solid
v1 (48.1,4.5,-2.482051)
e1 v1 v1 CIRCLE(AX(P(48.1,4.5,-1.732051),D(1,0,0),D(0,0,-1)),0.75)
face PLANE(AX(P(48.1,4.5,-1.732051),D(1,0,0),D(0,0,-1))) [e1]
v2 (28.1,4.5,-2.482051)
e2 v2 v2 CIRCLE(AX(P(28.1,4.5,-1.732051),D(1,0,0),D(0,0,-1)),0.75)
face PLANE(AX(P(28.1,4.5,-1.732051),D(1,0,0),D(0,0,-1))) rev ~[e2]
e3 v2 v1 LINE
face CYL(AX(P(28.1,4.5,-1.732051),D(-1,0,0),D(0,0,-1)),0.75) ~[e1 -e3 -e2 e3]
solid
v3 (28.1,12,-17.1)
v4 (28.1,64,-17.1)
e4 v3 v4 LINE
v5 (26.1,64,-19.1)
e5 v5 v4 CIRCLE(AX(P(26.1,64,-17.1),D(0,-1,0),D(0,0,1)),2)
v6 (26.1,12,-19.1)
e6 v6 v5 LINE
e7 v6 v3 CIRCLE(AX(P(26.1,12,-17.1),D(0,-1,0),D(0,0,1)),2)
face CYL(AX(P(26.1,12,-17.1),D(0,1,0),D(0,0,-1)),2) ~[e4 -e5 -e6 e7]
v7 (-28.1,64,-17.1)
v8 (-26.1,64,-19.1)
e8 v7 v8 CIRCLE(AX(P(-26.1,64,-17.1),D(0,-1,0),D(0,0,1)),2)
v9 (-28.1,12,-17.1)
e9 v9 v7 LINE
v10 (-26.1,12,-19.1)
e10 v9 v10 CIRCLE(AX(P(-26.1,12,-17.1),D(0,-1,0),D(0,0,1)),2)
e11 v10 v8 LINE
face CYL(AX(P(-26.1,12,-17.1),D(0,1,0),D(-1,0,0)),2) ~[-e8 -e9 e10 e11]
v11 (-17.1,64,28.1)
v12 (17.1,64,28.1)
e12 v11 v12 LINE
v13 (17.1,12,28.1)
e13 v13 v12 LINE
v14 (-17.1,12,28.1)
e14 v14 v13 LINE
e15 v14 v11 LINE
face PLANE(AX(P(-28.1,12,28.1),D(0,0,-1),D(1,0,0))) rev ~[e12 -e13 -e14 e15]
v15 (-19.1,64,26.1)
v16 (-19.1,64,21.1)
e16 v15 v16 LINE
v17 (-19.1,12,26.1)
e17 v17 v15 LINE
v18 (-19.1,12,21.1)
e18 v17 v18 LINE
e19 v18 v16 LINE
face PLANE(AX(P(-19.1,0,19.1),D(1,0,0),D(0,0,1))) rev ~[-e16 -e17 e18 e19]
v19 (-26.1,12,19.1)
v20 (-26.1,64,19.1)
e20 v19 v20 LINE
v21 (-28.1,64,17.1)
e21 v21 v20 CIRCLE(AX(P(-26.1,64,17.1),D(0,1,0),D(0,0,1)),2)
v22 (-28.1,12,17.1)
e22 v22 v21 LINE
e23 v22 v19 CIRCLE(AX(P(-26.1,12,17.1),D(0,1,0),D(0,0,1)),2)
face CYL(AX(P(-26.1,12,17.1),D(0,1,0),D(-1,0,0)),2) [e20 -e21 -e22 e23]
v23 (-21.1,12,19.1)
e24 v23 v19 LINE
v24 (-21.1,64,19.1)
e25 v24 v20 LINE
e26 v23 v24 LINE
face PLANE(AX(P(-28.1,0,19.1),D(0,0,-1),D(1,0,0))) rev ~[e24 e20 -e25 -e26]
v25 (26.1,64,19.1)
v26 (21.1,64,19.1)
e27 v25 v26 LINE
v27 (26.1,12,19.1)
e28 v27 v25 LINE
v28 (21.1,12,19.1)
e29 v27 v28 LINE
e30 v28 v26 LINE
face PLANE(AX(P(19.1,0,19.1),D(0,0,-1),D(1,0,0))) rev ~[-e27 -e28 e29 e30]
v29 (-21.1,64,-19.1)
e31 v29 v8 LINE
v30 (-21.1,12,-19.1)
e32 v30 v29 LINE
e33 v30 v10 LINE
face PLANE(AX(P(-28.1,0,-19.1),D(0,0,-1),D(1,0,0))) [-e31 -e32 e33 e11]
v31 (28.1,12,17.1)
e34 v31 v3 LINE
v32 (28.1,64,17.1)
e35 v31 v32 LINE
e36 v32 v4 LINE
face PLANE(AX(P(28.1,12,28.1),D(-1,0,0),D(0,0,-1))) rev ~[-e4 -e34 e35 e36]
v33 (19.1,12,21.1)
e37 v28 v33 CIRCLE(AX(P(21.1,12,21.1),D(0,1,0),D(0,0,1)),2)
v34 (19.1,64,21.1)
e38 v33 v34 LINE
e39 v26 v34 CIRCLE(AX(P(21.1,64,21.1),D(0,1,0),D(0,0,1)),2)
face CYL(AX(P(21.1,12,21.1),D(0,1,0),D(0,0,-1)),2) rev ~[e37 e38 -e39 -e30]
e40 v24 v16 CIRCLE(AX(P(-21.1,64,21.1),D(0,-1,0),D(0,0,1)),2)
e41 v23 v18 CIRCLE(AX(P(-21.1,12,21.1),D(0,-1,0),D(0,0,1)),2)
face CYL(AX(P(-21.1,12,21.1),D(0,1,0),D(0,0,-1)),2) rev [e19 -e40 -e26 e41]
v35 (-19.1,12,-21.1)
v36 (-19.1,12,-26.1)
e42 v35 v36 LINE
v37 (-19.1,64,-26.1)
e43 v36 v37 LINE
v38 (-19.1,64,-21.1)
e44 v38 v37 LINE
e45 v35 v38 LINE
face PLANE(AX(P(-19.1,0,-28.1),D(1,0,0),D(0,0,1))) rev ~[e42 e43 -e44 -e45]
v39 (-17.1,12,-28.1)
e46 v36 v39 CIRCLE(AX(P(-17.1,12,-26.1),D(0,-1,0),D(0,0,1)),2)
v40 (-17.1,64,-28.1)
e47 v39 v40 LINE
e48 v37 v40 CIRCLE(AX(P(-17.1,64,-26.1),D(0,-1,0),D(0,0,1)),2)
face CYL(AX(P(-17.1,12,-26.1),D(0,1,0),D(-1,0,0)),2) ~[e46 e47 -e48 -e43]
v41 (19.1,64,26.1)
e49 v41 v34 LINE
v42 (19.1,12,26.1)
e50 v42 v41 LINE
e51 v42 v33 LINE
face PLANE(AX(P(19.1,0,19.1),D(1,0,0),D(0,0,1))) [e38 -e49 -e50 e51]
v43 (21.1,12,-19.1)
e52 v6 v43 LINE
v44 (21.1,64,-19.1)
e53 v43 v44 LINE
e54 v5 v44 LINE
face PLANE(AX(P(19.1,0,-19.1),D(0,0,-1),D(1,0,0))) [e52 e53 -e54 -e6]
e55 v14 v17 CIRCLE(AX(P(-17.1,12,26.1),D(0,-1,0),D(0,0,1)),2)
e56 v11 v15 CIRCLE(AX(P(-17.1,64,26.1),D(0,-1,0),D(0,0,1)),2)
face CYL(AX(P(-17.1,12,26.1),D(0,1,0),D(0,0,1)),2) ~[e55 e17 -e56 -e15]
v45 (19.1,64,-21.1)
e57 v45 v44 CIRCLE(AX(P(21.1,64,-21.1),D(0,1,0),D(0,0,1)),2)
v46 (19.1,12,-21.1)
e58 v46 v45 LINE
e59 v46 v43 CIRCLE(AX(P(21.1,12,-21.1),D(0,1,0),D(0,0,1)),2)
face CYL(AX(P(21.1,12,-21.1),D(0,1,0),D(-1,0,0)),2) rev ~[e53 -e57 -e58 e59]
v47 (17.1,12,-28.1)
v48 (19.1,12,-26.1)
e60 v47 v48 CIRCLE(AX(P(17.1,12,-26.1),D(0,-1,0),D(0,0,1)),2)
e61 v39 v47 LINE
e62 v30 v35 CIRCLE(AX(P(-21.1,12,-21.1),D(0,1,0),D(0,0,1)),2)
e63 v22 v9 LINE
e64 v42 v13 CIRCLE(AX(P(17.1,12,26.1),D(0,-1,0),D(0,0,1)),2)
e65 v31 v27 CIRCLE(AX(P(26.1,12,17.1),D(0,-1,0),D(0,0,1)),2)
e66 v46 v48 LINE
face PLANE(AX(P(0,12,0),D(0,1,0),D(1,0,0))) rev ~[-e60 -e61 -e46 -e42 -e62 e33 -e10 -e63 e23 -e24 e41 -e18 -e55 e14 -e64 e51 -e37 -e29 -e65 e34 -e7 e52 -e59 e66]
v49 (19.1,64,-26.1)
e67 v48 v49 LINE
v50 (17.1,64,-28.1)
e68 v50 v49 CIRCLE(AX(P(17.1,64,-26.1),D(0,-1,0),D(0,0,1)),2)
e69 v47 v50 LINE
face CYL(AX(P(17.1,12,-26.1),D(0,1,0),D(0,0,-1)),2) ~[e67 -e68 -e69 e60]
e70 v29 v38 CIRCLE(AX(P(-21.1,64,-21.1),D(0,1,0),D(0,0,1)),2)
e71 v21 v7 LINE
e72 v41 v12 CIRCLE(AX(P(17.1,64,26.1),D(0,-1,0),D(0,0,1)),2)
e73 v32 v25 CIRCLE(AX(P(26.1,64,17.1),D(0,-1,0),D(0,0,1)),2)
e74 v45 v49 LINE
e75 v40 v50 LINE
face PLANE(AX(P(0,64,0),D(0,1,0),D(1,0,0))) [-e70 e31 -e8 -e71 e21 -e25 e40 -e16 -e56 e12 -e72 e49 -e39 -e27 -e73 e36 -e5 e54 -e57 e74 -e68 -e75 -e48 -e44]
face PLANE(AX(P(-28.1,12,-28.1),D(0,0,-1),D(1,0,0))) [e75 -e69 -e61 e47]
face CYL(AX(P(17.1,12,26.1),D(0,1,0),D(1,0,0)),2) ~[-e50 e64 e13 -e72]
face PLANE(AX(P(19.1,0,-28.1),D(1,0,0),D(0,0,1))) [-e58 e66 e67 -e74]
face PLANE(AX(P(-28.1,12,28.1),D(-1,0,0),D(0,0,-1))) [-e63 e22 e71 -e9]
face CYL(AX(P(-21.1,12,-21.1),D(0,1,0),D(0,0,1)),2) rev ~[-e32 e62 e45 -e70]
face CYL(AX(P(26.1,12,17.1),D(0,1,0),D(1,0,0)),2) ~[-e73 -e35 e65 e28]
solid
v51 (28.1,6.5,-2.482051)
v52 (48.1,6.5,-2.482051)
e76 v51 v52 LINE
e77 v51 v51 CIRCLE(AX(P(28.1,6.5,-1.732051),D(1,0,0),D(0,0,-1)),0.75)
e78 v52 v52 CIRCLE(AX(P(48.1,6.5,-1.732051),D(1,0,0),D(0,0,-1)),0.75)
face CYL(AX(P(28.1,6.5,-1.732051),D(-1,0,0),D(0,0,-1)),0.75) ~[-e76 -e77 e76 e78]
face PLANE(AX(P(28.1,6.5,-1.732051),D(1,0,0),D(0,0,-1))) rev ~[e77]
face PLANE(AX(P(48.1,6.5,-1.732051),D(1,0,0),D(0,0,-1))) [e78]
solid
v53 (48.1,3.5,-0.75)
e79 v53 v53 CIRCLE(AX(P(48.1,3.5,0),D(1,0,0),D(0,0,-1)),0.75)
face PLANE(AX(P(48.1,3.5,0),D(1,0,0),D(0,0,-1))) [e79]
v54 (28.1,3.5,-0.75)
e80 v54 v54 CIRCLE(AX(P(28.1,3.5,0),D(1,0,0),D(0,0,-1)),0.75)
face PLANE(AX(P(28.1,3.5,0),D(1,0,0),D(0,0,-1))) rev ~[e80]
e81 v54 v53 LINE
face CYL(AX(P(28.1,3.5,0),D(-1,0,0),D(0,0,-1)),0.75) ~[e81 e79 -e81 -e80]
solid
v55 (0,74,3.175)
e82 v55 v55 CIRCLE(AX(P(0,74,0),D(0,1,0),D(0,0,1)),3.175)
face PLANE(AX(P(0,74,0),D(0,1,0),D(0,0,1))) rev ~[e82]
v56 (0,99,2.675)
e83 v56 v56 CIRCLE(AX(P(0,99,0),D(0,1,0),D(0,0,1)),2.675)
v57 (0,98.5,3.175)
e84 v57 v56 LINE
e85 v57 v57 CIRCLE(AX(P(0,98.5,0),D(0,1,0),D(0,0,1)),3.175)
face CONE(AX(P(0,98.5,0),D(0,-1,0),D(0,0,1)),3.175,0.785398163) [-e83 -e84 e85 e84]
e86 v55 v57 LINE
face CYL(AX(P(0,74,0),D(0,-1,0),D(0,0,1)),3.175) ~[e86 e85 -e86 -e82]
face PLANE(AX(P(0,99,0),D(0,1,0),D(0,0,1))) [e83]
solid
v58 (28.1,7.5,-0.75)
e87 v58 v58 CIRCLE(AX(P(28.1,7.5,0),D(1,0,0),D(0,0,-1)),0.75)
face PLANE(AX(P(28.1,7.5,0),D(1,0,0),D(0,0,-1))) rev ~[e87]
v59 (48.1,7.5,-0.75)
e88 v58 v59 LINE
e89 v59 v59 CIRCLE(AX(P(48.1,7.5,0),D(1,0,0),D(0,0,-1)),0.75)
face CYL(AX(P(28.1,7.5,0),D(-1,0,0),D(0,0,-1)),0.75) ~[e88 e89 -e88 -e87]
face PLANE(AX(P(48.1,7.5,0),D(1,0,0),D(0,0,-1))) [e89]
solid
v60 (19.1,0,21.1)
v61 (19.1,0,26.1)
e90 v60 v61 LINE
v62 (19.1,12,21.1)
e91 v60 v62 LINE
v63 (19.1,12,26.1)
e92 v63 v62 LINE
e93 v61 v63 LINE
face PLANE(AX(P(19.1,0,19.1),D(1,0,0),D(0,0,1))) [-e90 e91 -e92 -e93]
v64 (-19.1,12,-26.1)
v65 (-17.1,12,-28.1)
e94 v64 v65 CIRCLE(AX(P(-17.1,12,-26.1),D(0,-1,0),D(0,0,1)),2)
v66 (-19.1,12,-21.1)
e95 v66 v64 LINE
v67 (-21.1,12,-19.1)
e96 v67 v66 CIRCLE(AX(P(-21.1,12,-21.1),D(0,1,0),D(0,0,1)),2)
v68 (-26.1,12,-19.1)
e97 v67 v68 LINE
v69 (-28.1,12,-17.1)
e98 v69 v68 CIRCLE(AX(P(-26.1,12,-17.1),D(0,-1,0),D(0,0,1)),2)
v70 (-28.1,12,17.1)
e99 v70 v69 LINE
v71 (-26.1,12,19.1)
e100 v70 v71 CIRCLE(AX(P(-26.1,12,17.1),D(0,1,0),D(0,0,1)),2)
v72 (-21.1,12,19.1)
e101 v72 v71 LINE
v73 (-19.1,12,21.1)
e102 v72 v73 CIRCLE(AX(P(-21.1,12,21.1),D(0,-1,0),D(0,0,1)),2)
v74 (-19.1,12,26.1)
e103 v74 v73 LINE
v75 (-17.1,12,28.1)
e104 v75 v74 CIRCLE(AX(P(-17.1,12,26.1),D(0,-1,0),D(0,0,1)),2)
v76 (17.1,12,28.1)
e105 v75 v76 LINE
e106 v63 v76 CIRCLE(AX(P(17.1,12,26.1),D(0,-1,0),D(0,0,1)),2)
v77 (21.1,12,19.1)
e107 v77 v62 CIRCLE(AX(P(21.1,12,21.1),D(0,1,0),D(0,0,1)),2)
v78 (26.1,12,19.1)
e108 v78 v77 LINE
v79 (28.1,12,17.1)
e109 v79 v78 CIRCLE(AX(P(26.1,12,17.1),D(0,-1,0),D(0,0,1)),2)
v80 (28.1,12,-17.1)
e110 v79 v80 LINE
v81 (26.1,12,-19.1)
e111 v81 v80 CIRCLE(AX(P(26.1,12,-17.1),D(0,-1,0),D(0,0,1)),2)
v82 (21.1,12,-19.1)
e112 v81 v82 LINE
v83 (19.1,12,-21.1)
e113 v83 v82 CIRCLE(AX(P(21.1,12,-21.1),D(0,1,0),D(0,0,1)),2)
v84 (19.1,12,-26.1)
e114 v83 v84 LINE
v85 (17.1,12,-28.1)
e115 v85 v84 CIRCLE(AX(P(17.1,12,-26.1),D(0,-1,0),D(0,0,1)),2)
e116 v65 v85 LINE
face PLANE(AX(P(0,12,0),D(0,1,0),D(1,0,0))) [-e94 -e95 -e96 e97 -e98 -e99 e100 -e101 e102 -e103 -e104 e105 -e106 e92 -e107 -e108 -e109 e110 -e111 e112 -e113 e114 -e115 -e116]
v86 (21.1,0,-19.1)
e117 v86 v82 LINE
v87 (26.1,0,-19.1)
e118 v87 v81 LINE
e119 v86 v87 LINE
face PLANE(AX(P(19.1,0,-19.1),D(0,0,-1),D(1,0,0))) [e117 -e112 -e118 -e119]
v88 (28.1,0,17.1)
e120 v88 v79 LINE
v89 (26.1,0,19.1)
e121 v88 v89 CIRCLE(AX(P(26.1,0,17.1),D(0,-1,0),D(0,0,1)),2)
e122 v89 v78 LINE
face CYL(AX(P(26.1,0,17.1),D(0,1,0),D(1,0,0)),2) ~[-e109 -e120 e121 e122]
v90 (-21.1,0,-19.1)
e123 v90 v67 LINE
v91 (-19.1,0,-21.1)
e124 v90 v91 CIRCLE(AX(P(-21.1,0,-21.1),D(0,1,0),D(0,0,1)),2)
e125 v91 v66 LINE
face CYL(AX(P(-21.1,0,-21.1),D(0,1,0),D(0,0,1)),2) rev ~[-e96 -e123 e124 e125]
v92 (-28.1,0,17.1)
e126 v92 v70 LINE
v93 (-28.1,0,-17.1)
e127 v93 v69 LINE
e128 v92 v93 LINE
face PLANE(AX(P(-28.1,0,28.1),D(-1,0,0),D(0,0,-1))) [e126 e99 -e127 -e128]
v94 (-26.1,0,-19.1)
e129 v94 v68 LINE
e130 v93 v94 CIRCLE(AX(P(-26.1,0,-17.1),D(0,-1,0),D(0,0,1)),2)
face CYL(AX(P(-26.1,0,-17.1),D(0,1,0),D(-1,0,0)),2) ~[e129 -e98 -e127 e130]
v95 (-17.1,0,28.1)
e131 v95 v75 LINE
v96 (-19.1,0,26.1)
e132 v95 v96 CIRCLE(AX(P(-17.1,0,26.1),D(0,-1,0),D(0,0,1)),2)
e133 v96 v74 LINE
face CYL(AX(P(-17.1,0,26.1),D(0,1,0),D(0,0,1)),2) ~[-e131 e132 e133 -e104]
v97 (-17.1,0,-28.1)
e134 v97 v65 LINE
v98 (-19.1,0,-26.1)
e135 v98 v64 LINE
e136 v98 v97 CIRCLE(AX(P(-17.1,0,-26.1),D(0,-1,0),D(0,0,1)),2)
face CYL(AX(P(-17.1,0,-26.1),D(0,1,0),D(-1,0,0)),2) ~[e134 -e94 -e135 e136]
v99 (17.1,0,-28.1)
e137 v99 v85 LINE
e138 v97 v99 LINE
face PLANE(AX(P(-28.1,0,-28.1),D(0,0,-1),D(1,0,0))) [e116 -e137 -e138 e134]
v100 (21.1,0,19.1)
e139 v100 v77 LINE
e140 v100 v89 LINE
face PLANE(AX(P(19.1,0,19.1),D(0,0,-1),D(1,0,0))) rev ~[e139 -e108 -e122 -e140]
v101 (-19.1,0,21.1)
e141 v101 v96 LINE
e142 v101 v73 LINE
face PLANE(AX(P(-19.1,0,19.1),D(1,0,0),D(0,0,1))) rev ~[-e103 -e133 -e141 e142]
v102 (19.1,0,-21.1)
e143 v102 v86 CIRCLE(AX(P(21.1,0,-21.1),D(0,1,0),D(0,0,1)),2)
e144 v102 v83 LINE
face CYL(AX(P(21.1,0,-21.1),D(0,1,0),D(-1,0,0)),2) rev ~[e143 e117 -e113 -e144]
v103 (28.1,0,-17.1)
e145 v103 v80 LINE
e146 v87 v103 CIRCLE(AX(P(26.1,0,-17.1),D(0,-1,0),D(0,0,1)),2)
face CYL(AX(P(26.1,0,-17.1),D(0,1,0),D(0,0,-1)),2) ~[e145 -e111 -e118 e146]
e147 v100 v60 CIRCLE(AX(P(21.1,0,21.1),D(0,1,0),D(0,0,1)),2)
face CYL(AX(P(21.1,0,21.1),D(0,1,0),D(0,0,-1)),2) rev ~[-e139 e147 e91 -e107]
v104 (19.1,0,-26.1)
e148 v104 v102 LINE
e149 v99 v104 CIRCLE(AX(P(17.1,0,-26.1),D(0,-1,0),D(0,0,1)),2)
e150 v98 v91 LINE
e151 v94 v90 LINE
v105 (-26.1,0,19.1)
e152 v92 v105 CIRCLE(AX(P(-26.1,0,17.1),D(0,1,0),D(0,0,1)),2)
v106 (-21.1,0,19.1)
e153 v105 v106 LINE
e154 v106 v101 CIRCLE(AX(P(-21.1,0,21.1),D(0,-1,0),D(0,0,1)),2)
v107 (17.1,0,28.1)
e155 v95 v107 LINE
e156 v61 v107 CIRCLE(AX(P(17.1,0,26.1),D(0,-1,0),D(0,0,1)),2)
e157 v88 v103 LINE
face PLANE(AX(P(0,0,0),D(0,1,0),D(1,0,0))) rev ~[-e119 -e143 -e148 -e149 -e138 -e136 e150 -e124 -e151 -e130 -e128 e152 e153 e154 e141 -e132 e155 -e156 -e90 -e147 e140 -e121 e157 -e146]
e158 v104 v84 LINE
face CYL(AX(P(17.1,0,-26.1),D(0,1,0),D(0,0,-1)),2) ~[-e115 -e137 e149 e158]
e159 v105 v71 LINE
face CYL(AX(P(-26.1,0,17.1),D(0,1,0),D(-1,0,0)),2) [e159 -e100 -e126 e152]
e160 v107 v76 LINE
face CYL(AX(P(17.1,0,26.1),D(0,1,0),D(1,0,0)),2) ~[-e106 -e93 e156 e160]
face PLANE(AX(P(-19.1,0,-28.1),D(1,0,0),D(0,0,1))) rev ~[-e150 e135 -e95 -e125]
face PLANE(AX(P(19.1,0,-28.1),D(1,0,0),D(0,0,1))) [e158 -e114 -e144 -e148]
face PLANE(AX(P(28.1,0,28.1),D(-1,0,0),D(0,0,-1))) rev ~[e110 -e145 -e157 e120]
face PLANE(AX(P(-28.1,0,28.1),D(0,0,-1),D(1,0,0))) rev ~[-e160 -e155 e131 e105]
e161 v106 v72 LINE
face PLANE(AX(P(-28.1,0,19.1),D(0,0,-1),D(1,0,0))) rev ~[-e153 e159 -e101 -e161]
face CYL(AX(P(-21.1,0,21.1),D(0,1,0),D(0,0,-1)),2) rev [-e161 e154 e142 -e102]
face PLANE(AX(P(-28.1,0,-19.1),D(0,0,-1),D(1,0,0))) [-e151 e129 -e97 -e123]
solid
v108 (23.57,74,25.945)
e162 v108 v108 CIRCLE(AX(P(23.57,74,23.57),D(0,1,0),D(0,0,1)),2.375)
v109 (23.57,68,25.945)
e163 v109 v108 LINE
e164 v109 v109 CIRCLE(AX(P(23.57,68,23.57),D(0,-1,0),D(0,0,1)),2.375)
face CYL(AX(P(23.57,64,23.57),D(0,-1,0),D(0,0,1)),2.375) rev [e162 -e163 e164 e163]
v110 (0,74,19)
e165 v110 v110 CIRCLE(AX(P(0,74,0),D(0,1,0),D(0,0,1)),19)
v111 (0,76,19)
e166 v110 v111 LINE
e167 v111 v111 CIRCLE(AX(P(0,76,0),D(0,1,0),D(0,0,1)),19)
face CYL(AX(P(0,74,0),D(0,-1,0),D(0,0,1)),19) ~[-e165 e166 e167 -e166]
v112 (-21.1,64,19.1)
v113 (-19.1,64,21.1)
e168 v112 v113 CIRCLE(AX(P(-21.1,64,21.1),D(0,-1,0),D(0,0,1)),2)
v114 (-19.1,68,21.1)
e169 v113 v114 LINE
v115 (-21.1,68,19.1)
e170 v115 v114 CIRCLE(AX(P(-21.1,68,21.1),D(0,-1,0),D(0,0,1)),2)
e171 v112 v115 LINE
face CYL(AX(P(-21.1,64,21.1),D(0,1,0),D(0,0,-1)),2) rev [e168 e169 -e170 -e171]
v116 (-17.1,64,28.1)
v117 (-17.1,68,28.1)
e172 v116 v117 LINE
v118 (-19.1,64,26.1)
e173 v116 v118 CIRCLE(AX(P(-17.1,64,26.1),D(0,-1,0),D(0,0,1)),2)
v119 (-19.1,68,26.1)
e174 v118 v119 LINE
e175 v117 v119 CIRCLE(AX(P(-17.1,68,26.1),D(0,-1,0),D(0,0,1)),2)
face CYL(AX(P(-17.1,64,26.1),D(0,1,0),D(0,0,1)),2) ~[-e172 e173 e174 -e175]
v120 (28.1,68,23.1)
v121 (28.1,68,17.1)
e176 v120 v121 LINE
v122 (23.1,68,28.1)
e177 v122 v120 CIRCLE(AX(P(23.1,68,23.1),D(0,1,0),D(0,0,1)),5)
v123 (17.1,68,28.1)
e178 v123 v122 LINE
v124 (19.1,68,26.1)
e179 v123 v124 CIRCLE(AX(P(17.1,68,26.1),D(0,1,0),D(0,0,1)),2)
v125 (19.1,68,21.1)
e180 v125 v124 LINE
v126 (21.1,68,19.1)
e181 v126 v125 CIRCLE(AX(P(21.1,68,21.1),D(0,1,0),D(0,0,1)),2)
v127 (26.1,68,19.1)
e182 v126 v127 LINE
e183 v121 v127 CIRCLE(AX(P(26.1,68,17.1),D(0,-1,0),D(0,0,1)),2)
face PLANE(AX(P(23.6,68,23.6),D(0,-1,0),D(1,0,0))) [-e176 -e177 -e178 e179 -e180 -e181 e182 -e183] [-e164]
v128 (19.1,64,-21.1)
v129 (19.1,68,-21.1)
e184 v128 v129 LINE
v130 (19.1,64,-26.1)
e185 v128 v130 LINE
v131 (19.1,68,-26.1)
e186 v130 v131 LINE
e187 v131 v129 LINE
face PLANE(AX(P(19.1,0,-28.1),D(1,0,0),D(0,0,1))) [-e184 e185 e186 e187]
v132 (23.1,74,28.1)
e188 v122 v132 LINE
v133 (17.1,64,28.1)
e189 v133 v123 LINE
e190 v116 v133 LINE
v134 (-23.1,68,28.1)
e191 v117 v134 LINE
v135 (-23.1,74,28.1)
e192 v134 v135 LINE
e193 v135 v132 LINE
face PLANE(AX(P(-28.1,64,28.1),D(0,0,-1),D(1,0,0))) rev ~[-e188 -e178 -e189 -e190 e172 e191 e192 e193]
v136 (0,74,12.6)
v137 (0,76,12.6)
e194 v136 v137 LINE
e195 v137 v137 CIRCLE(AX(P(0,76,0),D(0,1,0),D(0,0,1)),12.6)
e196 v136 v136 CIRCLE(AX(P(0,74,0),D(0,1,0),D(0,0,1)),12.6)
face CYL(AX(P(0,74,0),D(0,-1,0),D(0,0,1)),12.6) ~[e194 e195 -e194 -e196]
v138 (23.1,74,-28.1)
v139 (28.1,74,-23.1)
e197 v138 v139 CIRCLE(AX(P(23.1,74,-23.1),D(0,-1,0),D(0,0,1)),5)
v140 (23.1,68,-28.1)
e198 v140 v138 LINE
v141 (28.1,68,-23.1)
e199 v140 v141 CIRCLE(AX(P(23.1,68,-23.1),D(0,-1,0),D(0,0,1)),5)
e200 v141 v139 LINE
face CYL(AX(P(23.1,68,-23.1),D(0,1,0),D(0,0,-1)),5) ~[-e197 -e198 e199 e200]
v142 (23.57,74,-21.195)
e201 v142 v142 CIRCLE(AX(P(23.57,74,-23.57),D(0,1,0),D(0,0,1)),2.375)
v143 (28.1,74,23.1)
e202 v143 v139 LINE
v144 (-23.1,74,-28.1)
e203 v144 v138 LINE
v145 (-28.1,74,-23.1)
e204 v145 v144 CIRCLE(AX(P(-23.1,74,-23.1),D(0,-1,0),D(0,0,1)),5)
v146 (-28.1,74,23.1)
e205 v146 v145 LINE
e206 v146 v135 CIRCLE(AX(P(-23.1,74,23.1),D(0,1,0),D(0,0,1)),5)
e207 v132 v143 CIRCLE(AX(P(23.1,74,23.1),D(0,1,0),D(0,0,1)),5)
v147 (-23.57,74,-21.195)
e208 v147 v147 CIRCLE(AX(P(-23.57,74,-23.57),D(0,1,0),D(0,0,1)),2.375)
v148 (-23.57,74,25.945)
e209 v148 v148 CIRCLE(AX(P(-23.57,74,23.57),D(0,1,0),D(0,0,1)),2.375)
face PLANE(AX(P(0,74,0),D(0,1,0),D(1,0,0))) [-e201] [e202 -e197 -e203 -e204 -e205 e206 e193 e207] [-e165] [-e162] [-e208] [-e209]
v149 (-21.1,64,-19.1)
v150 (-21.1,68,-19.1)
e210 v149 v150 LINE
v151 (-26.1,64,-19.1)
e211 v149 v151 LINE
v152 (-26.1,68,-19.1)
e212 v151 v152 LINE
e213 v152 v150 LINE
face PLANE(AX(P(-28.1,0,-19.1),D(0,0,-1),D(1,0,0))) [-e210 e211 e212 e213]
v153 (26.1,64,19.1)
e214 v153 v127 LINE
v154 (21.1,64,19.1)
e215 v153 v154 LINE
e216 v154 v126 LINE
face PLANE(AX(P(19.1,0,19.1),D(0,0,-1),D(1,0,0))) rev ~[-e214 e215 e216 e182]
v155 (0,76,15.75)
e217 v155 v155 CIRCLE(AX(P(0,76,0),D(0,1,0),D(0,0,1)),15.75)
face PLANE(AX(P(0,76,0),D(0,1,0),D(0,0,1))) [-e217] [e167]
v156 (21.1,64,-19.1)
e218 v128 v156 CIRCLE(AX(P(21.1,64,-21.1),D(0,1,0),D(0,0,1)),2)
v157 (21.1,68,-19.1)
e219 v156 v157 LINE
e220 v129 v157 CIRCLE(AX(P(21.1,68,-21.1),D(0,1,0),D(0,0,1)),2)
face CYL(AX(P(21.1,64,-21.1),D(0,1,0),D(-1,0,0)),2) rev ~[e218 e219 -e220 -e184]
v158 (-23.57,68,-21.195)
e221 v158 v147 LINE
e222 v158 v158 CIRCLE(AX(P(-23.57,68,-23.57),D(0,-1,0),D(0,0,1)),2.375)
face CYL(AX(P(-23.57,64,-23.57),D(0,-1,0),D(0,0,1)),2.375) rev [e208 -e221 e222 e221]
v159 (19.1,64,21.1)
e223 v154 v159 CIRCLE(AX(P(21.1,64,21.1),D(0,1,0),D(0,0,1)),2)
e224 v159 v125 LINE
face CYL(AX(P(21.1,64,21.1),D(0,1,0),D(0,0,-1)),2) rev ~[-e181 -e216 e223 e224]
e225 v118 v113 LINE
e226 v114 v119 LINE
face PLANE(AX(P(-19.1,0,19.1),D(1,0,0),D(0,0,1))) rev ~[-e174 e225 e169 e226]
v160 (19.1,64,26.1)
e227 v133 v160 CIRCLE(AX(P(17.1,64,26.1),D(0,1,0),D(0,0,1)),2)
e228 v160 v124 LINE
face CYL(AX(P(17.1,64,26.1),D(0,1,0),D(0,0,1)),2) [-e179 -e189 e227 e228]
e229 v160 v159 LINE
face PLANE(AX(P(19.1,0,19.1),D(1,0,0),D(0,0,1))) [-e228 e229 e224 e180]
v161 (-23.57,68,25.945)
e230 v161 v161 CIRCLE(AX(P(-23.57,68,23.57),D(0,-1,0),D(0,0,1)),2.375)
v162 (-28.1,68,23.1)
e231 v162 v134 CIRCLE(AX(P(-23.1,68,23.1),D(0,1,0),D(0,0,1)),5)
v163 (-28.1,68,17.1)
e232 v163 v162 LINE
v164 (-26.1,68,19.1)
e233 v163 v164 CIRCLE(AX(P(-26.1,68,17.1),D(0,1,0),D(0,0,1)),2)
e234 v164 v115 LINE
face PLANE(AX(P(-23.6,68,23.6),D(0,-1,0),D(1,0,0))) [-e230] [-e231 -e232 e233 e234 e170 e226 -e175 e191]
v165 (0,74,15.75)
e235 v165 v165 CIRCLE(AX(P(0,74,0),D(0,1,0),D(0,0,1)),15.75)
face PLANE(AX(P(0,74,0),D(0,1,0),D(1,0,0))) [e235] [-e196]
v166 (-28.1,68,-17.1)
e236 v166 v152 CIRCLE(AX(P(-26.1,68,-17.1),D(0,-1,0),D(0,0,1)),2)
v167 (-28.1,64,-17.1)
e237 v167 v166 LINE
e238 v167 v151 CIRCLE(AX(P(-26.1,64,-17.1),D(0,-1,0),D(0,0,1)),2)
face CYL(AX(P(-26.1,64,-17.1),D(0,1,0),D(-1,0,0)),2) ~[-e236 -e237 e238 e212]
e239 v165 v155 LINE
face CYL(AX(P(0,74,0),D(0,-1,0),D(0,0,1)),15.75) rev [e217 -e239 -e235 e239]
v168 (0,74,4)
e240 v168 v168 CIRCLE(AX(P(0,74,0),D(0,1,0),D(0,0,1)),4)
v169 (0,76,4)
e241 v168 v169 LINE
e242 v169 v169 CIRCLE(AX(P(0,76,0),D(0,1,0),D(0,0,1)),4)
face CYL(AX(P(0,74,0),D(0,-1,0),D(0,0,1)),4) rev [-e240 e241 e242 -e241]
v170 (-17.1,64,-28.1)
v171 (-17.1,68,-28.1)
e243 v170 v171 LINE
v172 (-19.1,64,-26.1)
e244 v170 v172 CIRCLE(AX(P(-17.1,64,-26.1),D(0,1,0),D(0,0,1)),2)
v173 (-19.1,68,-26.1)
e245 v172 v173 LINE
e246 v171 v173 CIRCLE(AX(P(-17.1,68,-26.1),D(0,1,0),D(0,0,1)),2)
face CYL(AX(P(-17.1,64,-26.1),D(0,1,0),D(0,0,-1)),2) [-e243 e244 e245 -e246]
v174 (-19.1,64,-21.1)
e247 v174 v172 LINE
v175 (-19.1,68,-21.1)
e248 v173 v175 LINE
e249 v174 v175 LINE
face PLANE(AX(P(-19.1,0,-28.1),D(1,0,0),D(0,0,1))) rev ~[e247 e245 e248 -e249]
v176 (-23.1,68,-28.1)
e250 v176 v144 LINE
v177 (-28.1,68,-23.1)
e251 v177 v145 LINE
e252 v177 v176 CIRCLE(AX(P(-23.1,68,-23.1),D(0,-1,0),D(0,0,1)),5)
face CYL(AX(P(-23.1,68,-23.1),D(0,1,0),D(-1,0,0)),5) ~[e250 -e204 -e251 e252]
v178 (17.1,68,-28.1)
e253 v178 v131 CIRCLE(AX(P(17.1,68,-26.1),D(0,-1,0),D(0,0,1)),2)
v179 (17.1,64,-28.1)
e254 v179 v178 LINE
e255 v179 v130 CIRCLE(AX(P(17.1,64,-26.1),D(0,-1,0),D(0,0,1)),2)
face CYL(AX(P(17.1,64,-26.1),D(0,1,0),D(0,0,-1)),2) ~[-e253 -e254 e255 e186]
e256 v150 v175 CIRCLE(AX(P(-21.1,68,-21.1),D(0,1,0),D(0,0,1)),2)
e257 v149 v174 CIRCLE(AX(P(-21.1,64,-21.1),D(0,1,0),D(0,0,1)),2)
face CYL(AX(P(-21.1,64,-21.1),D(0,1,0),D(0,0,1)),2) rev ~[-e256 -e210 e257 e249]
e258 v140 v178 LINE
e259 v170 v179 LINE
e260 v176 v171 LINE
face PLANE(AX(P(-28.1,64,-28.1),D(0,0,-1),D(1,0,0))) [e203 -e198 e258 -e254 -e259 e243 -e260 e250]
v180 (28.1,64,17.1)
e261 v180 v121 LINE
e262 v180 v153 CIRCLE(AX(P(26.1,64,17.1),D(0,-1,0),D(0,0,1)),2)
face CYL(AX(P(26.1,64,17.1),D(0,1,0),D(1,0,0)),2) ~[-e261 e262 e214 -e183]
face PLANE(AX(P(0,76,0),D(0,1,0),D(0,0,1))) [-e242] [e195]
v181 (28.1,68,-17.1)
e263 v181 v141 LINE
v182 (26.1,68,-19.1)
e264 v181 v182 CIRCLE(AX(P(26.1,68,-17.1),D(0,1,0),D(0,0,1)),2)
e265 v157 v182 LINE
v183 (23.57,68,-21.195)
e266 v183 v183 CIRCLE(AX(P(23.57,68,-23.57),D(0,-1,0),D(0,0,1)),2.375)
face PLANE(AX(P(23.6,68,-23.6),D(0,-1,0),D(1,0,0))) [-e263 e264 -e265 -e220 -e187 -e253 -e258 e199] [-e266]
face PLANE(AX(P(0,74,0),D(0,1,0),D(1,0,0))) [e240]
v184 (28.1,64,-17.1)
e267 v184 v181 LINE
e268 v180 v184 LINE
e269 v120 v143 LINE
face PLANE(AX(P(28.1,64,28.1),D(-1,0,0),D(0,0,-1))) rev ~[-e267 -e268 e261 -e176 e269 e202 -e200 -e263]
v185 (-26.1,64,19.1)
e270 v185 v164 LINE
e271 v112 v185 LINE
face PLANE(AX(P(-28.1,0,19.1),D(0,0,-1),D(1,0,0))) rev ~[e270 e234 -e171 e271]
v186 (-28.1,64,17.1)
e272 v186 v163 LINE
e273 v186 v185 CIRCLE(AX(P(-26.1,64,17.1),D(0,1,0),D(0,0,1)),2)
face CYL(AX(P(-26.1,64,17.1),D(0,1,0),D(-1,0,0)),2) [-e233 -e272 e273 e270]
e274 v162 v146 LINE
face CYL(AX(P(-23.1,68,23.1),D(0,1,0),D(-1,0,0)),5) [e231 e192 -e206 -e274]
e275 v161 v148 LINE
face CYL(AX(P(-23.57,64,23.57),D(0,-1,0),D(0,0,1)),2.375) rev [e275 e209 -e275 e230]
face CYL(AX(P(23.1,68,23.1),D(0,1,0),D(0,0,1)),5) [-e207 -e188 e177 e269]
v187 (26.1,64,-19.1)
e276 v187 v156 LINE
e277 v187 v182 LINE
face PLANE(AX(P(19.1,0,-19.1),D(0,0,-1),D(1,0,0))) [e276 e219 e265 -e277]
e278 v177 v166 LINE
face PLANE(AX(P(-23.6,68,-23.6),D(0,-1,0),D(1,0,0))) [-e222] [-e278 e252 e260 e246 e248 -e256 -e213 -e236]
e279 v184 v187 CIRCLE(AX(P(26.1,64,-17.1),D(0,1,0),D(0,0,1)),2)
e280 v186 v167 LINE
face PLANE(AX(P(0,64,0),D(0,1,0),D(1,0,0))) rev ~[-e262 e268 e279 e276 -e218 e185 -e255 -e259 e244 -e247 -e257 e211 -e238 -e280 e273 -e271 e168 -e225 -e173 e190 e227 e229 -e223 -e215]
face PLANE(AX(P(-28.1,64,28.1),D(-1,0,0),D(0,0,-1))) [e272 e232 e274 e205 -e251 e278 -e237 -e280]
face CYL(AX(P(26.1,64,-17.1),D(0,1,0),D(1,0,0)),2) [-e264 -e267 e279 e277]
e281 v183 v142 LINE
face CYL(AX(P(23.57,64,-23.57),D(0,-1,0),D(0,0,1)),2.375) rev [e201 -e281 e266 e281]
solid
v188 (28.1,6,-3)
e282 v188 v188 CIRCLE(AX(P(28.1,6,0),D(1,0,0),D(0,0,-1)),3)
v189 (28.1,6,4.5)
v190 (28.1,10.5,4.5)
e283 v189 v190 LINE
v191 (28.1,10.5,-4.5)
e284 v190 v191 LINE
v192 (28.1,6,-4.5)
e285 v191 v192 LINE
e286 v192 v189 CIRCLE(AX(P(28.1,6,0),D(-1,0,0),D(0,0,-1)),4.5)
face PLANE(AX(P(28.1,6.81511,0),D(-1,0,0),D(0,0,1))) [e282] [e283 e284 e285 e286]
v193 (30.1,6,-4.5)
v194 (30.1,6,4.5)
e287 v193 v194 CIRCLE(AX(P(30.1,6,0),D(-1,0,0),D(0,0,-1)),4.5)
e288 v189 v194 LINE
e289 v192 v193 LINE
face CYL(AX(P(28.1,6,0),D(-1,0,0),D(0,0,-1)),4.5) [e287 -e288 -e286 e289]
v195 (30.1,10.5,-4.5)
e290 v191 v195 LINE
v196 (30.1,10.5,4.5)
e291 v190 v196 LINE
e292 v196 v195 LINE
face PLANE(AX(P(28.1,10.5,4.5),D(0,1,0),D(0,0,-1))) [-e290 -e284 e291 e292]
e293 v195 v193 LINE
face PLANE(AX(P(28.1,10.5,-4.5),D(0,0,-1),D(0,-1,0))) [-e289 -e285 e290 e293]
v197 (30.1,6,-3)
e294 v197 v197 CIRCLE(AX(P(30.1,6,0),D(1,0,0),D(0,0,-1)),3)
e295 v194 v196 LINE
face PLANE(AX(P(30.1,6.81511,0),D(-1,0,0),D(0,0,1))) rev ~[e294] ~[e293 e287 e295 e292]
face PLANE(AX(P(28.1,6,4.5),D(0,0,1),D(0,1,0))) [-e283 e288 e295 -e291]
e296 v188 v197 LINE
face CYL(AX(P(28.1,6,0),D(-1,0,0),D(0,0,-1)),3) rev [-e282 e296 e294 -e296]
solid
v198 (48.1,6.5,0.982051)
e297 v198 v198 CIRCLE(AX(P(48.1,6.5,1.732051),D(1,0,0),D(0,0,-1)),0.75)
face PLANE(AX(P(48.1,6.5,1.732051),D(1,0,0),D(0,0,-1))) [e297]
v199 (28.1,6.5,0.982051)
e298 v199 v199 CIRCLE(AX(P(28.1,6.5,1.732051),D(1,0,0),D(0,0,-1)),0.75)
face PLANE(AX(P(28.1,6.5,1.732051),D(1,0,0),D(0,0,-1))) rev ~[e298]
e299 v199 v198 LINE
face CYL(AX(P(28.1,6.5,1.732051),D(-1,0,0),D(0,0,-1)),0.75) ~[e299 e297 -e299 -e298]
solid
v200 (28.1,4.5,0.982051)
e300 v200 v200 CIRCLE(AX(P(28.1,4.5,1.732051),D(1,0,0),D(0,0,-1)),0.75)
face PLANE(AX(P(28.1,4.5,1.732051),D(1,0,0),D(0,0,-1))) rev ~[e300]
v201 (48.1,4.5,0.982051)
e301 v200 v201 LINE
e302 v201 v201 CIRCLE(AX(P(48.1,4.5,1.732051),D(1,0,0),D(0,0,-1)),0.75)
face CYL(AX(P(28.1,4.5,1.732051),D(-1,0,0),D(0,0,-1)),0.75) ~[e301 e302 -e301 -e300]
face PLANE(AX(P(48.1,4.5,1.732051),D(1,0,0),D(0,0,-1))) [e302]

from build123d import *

# Parameters (mm, degrees)
SKETCH1_W             = 56.2
SKETCH1_H             = 56.2
SKETCH1_R             = 2.375
BOSS_EXTRUDE2_DEPTH   = 12
SKETCH2_W             = 56.2
SKETCH2_H             = 56.2
SKETCH2_R             = 2.375
BOSS_EXTRUDE3_DEPTH   = 52
SKETCH3_W             = 56.2
SKETCH3_H             = 56.2
SKETCH3_R             = 2.375
BOSS_EXTRUDE4_DEPTH   = 10
SKETCH4_R             = 3
BOSS_EXTRUDE5_DEPTH   = 2
SKETCH5_R             = 0.75
BOSS_EXTRUDE6_DEPTH   = 20
BOSS_EXTRUDE6_2_DEPTH = 20
BOSS_EXTRUDE6_3_DEPTH = 20
BOSS_EXTRUDE6_4_DEPTH = 20
BOSS_EXTRUDE6_5_DEPTH = 20
BOSS_EXTRUDE6_6_DEPTH = 20
SKETCH6_R             = 19
SKETCH6_R_2           = 15.75
SKETCH6_R_3           = 12.6
SKETCH6_R_4           = 4
BOSS_EXTRUDE7_DEPTH   = 2
SKETCH7_R             = 3.175
BOSS_EXTRUDE8_DEPTH   = 25
SKETCH11_W            = 9
SKETCH11_H            = 9
CUT_EXTRUDE1_DEPTH    = 68
FILLET1_R             = 5
FILLET2_R             = 2
FILLET3_R             = 2
CHAMFER1_SIZE         = 0.5
FILLET4_R             = 2


with BuildPart() as part:
    # Sketch1 → Boss-Extrude2 (new body)
    with BuildSketch(Plane(origin=(0, 0, 0), x_dir=(1, 0, 0), z_dir=(0, 1, 0))):
        Rectangle(SKETCH1_W, SKETCH1_H)
        with Locations(Location((23.57, 23.57, 0), (0, 0, 270))):
            Circle(SKETCH1_R, mode=Mode.SUBTRACT)
        with Locations(Location((23.57, -23.57, 0), (0, 0, 270))):
            Circle(SKETCH1_R, mode=Mode.SUBTRACT)
        with Locations(Location((-23.57, -23.57, 0), (0, 0, 270))):
            Circle(SKETCH1_R, mode=Mode.SUBTRACT)
        with Locations(Location((-23.57, 23.57, 0), (0, 0, 270))):
            Circle(SKETCH1_R, mode=Mode.SUBTRACT)
    extrude(amount=BOSS_EXTRUDE2_DEPTH)


with BuildPart() as body_2:
    # Sketch2 → Boss-Extrude3 (new body)
    with BuildSketch(Plane(origin=(0, 12, 0), x_dir=(1, 0, 0), z_dir=(0, 1, 0))):
        Rectangle(SKETCH2_W, SKETCH2_H)
        with Locations(Location((-23.57, -23.57, 0), (0, 0, 90))):
            Circle(SKETCH2_R, mode=Mode.SUBTRACT)
        with Locations(Location((23.57, -23.57, 0), (0, 0, 90))):
            Circle(SKETCH2_R, mode=Mode.SUBTRACT)
        with Locations(Location((23.57, 23.57, 0), (0, 0, 90))):
            Circle(SKETCH2_R, mode=Mode.SUBTRACT)
        with Locations(Location((-23.57, 23.57, 0), (0, 0, 90))):
            Circle(SKETCH2_R, mode=Mode.SUBTRACT)
    extrude(amount=BOSS_EXTRUDE3_DEPTH)


with BuildPart() as body_3:
    # Sketch3 → Boss-Extrude4 (new body)
    with BuildSketch(Plane(origin=(0, 64, 0), x_dir=(1, 0, 0), z_dir=(0, 1, 0))):
        Rectangle(SKETCH3_W, SKETCH3_H)
        with Locations(Location((23.57, 23.57, 0), (0, 0, 270))):
            Circle(SKETCH3_R, mode=Mode.SUBTRACT)
        with Locations(Location((23.57, -23.57, 0), (0, 0, 270))):
            Circle(SKETCH3_R, mode=Mode.SUBTRACT)
        with Locations(Location((-23.57, -23.57, 0), (0, 0, 270))):
            Circle(SKETCH3_R, mode=Mode.SUBTRACT)
        with Locations(Location((-23.57, 23.57, 0), (0, 0, 270))):
            Circle(SKETCH3_R, mode=Mode.SUBTRACT)
    extrude(amount=BOSS_EXTRUDE4_DEPTH)

    # Sketch6 → Boss-Extrude7 (add)
    with BuildSketch(Plane(origin=(0, 74, 0), x_dir=(1, 0, 0), z_dir=(0, 1, 0))):
        with Locations(Location((0, 0, 0), (0, 0, 270))):
            Circle(SKETCH6_R)
        with Locations(Location((0, 0, 0), (0, 0, 270))):
            Circle(SKETCH6_R_2, mode=Mode.SUBTRACT)
        with Locations(Location((0, 0, 0), (0, 0, 270))):
            Circle(SKETCH6_R_3)
        with Locations(Location((0, 0, 0), (0, 0, 270))):
            Circle(SKETCH6_R_4, mode=Mode.SUBTRACT)
    extrude(amount=BOSS_EXTRUDE7_DEPTH)


with BuildPart() as body_4:
    # Sketch4 → Boss-Extrude5 (new body)
    with BuildSketch(Plane(origin=(28.1, 0, 0), x_dir=(0, 0, -1), z_dir=(1, 0, 0))):
        with BuildLine():
            Line((-4.5, 6), (-4.5, 10.5))
            Line((-4.5, 10.5), (4.5, 10.5))
            Line((4.5, 10.5), (4.5, 6))
            ThreePointArc((4.5, 6), (0, 1.5), (-4.5, 6))
        make_face()
        with Locations((0, 6)):
            Circle(SKETCH4_R, mode=Mode.SUBTRACT)
    extrude(amount=BOSS_EXTRUDE5_DEPTH)


with BuildPart() as body_5:
    # Sketch5 → Boss-Extrude6 (new body)
    with BuildSketch(Plane(origin=(28.1, 0, 0), x_dir=(0, 0, -1), z_dir=(1, 0, 0))):
        with Locations((-1.732050808, 4.5)):
            Circle(SKETCH5_R)
    extrude(amount=BOSS_EXTRUDE6_DEPTH)


with BuildPart() as body_6:
    # Sketch5 → Boss-Extrude6 2 (new body)
    with BuildSketch(Plane(origin=(28.1, 0, 0), x_dir=(0, 0, -1), z_dir=(1, 0, 0))):
        with Locations((0, 3.5)):
            Circle(SKETCH5_R)
    extrude(amount=BOSS_EXTRUDE6_2_DEPTH)


with BuildPart() as body_7:
    # Sketch5 → Boss-Extrude6 3 (new body)
    with BuildSketch(Plane(origin=(28.1, 0, 0), x_dir=(0, 0, -1), z_dir=(1, 0, 0))):
        with Locations((-1.732050808, 6.5)):
            Circle(SKETCH5_R)
    extrude(amount=BOSS_EXTRUDE6_3_DEPTH)


with BuildPart() as body_8:
    # Sketch5 → Boss-Extrude6 4 (new body)
    with BuildSketch(Plane(origin=(28.1, 0, 0), x_dir=(0, 0, -1), z_dir=(1, 0, 0))):
        with Locations((0, 7.5)):
            Circle(SKETCH5_R)
    extrude(amount=BOSS_EXTRUDE6_4_DEPTH)


with BuildPart() as body_9:
    # Sketch5 → Boss-Extrude6 5 (new body)
    with BuildSketch(Plane(origin=(28.1, 0, 0), x_dir=(0, 0, -1), z_dir=(1, 0, 0))):
        with Locations((1.732050808, 6.5)):
            Circle(SKETCH5_R)
    extrude(amount=BOSS_EXTRUDE6_5_DEPTH)


with BuildPart() as body_10:
    # Sketch5 → Boss-Extrude6 6 (new body)
    with BuildSketch(Plane(origin=(28.1, 0, 0), x_dir=(0, 0, -1), z_dir=(1, 0, 0))):
        with Locations((1.732050808, 4.5)):
            Circle(SKETCH5_R)
    extrude(amount=BOSS_EXTRUDE6_6_DEPTH)


with BuildPart() as body_11:
    # Sketch7 → Boss-Extrude8 (new body)
    with BuildSketch(Plane(origin=(0, 74, 0), x_dir=(1, 0, 0), z_dir=(0, 1, 0))):
        with Locations(Location((0, 0, 0), (0, 0, 270))):
            Circle(SKETCH7_R)
    extrude(amount=BOSS_EXTRUDE8_DEPTH)

    # Chamfer1
    chamfer1_edges = [body_11.edges().sort_by_distance(p)[0] for p in [
        (0, 99, -3.175),
    ]]
    chamfer(chamfer1_edges, length=CHAMFER1_SIZE)


with BuildPart() as cut_extrude1_tool:
    # Sketch11 → Cut-Extrude1 (new body)
    with BuildSketch(Plane.XZ):
        with Locations((-23.6, 23.6)):
            Rectangle(SKETCH11_W, SKETCH11_H)
        with Locations((23.6, 23.6)):
            Rectangle(SKETCH11_W, SKETCH11_H)
        with Locations((23.6, -23.6)):
            Rectangle(SKETCH11_W, SKETCH11_H)
        with Locations((-23.6, -23.6)):
            Rectangle(SKETCH11_W, SKETCH11_H)
    extrude(amount=-CUT_EXTRUDE1_DEPTH)


with BuildPart() as part_1:
    add(part.part)

    # Cut-Extrude1: cut by cut_extrude1_tool
    add(cut_extrude1_tool.part, mode=Mode.SUBTRACT)

    # Fillet2
    fillet2_edges = [part_1.edges().sort_by_distance(p)[0] for p in [
        (-19.1, 6, -28.1),
        (19.1, 6, -28.1),
        (28.1, 6, 19.1),
        (-19.1, 6, 28.1),
        (-19.1, 6, 19.1),
        (-28.1, 6, 19.1),
        (19.1, 6, 19.1),
        (19.1, 6, 28.1),
        (19.1, 6, -19.1),
        (28.1, 6, -19.1),
        (-19.1, 6, -19.1),
        (-28.1, 6, -19.1),
    ]]
    fillet(fillet2_edges, radius=FILLET2_R)


with BuildPart() as body_2_1:
    add(body_2.part)

    # Cut-Extrude1: cut by cut_extrude1_tool
    add(cut_extrude1_tool.part, mode=Mode.SUBTRACT)

    # Fillet3
    fillet3_edges = [body_2_1.edges().sort_by_distance(p)[0] for p in [
        (-19.1, 38, -28.1),
        (19.1, 38, -28.1),
        (28.1, 38, 19.1),
        (-19.1, 38, 28.1),
        (-19.1, 38, 19.1),
        (-28.1, 38, 19.1),
        (19.1, 38, 19.1),
        (19.1, 38, 28.1),
        (19.1, 38, -19.1),
        (28.1, 38, -19.1),
        (-28.1, 38, -19.1),
        (-19.1, 38, -19.1),
    ]]
    fillet(fillet3_edges, radius=FILLET3_R)


with BuildPart() as body_3_1:
    add(body_3.part)

    # Cut-Extrude1: cut by cut_extrude1_tool
    add(cut_extrude1_tool.part, mode=Mode.SUBTRACT)

    # Fillet1
    fillet1_edges = [body_3_1.edges().sort_by_distance(p)[0] for p in [
        (-28.1, 71, -28.1),
        (28.1, 71, -28.1),
        (28.1, 71, 28.1),
        (-28.1, 71, 28.1),
    ]]
    fillet(fillet1_edges, radius=FILLET1_R)

    # Fillet4
    fillet4_edges = [body_3_1.edges().sort_by_distance(p)[0] for p in [
        (-19.1, 66, 19.1),
        (-19.1, 66, 28.1),
        (-28.1, 66, 19.1),
        (19.1, 66, 19.1),
        (28.1, 66, 19.1),
        (19.1, 66, 28.1),
        (19.1, 66, -19.1),
        (19.1, 66, -28.1),
        (28.1, 66, -19.1),
        (-28.1, 66, -19.1),
        (-19.1, 66, -28.1),
        (-19.1, 66, -19.1),
    ]]
    fillet(fillet4_edges, radius=FILLET4_R)


solid = Compound([body_4.part, body_5.part, body_6.part, body_7.part, body_8.part, body_9.part, body_10.part, body_11.part, part_1.part, body_2_1.part, body_3_1.part])
